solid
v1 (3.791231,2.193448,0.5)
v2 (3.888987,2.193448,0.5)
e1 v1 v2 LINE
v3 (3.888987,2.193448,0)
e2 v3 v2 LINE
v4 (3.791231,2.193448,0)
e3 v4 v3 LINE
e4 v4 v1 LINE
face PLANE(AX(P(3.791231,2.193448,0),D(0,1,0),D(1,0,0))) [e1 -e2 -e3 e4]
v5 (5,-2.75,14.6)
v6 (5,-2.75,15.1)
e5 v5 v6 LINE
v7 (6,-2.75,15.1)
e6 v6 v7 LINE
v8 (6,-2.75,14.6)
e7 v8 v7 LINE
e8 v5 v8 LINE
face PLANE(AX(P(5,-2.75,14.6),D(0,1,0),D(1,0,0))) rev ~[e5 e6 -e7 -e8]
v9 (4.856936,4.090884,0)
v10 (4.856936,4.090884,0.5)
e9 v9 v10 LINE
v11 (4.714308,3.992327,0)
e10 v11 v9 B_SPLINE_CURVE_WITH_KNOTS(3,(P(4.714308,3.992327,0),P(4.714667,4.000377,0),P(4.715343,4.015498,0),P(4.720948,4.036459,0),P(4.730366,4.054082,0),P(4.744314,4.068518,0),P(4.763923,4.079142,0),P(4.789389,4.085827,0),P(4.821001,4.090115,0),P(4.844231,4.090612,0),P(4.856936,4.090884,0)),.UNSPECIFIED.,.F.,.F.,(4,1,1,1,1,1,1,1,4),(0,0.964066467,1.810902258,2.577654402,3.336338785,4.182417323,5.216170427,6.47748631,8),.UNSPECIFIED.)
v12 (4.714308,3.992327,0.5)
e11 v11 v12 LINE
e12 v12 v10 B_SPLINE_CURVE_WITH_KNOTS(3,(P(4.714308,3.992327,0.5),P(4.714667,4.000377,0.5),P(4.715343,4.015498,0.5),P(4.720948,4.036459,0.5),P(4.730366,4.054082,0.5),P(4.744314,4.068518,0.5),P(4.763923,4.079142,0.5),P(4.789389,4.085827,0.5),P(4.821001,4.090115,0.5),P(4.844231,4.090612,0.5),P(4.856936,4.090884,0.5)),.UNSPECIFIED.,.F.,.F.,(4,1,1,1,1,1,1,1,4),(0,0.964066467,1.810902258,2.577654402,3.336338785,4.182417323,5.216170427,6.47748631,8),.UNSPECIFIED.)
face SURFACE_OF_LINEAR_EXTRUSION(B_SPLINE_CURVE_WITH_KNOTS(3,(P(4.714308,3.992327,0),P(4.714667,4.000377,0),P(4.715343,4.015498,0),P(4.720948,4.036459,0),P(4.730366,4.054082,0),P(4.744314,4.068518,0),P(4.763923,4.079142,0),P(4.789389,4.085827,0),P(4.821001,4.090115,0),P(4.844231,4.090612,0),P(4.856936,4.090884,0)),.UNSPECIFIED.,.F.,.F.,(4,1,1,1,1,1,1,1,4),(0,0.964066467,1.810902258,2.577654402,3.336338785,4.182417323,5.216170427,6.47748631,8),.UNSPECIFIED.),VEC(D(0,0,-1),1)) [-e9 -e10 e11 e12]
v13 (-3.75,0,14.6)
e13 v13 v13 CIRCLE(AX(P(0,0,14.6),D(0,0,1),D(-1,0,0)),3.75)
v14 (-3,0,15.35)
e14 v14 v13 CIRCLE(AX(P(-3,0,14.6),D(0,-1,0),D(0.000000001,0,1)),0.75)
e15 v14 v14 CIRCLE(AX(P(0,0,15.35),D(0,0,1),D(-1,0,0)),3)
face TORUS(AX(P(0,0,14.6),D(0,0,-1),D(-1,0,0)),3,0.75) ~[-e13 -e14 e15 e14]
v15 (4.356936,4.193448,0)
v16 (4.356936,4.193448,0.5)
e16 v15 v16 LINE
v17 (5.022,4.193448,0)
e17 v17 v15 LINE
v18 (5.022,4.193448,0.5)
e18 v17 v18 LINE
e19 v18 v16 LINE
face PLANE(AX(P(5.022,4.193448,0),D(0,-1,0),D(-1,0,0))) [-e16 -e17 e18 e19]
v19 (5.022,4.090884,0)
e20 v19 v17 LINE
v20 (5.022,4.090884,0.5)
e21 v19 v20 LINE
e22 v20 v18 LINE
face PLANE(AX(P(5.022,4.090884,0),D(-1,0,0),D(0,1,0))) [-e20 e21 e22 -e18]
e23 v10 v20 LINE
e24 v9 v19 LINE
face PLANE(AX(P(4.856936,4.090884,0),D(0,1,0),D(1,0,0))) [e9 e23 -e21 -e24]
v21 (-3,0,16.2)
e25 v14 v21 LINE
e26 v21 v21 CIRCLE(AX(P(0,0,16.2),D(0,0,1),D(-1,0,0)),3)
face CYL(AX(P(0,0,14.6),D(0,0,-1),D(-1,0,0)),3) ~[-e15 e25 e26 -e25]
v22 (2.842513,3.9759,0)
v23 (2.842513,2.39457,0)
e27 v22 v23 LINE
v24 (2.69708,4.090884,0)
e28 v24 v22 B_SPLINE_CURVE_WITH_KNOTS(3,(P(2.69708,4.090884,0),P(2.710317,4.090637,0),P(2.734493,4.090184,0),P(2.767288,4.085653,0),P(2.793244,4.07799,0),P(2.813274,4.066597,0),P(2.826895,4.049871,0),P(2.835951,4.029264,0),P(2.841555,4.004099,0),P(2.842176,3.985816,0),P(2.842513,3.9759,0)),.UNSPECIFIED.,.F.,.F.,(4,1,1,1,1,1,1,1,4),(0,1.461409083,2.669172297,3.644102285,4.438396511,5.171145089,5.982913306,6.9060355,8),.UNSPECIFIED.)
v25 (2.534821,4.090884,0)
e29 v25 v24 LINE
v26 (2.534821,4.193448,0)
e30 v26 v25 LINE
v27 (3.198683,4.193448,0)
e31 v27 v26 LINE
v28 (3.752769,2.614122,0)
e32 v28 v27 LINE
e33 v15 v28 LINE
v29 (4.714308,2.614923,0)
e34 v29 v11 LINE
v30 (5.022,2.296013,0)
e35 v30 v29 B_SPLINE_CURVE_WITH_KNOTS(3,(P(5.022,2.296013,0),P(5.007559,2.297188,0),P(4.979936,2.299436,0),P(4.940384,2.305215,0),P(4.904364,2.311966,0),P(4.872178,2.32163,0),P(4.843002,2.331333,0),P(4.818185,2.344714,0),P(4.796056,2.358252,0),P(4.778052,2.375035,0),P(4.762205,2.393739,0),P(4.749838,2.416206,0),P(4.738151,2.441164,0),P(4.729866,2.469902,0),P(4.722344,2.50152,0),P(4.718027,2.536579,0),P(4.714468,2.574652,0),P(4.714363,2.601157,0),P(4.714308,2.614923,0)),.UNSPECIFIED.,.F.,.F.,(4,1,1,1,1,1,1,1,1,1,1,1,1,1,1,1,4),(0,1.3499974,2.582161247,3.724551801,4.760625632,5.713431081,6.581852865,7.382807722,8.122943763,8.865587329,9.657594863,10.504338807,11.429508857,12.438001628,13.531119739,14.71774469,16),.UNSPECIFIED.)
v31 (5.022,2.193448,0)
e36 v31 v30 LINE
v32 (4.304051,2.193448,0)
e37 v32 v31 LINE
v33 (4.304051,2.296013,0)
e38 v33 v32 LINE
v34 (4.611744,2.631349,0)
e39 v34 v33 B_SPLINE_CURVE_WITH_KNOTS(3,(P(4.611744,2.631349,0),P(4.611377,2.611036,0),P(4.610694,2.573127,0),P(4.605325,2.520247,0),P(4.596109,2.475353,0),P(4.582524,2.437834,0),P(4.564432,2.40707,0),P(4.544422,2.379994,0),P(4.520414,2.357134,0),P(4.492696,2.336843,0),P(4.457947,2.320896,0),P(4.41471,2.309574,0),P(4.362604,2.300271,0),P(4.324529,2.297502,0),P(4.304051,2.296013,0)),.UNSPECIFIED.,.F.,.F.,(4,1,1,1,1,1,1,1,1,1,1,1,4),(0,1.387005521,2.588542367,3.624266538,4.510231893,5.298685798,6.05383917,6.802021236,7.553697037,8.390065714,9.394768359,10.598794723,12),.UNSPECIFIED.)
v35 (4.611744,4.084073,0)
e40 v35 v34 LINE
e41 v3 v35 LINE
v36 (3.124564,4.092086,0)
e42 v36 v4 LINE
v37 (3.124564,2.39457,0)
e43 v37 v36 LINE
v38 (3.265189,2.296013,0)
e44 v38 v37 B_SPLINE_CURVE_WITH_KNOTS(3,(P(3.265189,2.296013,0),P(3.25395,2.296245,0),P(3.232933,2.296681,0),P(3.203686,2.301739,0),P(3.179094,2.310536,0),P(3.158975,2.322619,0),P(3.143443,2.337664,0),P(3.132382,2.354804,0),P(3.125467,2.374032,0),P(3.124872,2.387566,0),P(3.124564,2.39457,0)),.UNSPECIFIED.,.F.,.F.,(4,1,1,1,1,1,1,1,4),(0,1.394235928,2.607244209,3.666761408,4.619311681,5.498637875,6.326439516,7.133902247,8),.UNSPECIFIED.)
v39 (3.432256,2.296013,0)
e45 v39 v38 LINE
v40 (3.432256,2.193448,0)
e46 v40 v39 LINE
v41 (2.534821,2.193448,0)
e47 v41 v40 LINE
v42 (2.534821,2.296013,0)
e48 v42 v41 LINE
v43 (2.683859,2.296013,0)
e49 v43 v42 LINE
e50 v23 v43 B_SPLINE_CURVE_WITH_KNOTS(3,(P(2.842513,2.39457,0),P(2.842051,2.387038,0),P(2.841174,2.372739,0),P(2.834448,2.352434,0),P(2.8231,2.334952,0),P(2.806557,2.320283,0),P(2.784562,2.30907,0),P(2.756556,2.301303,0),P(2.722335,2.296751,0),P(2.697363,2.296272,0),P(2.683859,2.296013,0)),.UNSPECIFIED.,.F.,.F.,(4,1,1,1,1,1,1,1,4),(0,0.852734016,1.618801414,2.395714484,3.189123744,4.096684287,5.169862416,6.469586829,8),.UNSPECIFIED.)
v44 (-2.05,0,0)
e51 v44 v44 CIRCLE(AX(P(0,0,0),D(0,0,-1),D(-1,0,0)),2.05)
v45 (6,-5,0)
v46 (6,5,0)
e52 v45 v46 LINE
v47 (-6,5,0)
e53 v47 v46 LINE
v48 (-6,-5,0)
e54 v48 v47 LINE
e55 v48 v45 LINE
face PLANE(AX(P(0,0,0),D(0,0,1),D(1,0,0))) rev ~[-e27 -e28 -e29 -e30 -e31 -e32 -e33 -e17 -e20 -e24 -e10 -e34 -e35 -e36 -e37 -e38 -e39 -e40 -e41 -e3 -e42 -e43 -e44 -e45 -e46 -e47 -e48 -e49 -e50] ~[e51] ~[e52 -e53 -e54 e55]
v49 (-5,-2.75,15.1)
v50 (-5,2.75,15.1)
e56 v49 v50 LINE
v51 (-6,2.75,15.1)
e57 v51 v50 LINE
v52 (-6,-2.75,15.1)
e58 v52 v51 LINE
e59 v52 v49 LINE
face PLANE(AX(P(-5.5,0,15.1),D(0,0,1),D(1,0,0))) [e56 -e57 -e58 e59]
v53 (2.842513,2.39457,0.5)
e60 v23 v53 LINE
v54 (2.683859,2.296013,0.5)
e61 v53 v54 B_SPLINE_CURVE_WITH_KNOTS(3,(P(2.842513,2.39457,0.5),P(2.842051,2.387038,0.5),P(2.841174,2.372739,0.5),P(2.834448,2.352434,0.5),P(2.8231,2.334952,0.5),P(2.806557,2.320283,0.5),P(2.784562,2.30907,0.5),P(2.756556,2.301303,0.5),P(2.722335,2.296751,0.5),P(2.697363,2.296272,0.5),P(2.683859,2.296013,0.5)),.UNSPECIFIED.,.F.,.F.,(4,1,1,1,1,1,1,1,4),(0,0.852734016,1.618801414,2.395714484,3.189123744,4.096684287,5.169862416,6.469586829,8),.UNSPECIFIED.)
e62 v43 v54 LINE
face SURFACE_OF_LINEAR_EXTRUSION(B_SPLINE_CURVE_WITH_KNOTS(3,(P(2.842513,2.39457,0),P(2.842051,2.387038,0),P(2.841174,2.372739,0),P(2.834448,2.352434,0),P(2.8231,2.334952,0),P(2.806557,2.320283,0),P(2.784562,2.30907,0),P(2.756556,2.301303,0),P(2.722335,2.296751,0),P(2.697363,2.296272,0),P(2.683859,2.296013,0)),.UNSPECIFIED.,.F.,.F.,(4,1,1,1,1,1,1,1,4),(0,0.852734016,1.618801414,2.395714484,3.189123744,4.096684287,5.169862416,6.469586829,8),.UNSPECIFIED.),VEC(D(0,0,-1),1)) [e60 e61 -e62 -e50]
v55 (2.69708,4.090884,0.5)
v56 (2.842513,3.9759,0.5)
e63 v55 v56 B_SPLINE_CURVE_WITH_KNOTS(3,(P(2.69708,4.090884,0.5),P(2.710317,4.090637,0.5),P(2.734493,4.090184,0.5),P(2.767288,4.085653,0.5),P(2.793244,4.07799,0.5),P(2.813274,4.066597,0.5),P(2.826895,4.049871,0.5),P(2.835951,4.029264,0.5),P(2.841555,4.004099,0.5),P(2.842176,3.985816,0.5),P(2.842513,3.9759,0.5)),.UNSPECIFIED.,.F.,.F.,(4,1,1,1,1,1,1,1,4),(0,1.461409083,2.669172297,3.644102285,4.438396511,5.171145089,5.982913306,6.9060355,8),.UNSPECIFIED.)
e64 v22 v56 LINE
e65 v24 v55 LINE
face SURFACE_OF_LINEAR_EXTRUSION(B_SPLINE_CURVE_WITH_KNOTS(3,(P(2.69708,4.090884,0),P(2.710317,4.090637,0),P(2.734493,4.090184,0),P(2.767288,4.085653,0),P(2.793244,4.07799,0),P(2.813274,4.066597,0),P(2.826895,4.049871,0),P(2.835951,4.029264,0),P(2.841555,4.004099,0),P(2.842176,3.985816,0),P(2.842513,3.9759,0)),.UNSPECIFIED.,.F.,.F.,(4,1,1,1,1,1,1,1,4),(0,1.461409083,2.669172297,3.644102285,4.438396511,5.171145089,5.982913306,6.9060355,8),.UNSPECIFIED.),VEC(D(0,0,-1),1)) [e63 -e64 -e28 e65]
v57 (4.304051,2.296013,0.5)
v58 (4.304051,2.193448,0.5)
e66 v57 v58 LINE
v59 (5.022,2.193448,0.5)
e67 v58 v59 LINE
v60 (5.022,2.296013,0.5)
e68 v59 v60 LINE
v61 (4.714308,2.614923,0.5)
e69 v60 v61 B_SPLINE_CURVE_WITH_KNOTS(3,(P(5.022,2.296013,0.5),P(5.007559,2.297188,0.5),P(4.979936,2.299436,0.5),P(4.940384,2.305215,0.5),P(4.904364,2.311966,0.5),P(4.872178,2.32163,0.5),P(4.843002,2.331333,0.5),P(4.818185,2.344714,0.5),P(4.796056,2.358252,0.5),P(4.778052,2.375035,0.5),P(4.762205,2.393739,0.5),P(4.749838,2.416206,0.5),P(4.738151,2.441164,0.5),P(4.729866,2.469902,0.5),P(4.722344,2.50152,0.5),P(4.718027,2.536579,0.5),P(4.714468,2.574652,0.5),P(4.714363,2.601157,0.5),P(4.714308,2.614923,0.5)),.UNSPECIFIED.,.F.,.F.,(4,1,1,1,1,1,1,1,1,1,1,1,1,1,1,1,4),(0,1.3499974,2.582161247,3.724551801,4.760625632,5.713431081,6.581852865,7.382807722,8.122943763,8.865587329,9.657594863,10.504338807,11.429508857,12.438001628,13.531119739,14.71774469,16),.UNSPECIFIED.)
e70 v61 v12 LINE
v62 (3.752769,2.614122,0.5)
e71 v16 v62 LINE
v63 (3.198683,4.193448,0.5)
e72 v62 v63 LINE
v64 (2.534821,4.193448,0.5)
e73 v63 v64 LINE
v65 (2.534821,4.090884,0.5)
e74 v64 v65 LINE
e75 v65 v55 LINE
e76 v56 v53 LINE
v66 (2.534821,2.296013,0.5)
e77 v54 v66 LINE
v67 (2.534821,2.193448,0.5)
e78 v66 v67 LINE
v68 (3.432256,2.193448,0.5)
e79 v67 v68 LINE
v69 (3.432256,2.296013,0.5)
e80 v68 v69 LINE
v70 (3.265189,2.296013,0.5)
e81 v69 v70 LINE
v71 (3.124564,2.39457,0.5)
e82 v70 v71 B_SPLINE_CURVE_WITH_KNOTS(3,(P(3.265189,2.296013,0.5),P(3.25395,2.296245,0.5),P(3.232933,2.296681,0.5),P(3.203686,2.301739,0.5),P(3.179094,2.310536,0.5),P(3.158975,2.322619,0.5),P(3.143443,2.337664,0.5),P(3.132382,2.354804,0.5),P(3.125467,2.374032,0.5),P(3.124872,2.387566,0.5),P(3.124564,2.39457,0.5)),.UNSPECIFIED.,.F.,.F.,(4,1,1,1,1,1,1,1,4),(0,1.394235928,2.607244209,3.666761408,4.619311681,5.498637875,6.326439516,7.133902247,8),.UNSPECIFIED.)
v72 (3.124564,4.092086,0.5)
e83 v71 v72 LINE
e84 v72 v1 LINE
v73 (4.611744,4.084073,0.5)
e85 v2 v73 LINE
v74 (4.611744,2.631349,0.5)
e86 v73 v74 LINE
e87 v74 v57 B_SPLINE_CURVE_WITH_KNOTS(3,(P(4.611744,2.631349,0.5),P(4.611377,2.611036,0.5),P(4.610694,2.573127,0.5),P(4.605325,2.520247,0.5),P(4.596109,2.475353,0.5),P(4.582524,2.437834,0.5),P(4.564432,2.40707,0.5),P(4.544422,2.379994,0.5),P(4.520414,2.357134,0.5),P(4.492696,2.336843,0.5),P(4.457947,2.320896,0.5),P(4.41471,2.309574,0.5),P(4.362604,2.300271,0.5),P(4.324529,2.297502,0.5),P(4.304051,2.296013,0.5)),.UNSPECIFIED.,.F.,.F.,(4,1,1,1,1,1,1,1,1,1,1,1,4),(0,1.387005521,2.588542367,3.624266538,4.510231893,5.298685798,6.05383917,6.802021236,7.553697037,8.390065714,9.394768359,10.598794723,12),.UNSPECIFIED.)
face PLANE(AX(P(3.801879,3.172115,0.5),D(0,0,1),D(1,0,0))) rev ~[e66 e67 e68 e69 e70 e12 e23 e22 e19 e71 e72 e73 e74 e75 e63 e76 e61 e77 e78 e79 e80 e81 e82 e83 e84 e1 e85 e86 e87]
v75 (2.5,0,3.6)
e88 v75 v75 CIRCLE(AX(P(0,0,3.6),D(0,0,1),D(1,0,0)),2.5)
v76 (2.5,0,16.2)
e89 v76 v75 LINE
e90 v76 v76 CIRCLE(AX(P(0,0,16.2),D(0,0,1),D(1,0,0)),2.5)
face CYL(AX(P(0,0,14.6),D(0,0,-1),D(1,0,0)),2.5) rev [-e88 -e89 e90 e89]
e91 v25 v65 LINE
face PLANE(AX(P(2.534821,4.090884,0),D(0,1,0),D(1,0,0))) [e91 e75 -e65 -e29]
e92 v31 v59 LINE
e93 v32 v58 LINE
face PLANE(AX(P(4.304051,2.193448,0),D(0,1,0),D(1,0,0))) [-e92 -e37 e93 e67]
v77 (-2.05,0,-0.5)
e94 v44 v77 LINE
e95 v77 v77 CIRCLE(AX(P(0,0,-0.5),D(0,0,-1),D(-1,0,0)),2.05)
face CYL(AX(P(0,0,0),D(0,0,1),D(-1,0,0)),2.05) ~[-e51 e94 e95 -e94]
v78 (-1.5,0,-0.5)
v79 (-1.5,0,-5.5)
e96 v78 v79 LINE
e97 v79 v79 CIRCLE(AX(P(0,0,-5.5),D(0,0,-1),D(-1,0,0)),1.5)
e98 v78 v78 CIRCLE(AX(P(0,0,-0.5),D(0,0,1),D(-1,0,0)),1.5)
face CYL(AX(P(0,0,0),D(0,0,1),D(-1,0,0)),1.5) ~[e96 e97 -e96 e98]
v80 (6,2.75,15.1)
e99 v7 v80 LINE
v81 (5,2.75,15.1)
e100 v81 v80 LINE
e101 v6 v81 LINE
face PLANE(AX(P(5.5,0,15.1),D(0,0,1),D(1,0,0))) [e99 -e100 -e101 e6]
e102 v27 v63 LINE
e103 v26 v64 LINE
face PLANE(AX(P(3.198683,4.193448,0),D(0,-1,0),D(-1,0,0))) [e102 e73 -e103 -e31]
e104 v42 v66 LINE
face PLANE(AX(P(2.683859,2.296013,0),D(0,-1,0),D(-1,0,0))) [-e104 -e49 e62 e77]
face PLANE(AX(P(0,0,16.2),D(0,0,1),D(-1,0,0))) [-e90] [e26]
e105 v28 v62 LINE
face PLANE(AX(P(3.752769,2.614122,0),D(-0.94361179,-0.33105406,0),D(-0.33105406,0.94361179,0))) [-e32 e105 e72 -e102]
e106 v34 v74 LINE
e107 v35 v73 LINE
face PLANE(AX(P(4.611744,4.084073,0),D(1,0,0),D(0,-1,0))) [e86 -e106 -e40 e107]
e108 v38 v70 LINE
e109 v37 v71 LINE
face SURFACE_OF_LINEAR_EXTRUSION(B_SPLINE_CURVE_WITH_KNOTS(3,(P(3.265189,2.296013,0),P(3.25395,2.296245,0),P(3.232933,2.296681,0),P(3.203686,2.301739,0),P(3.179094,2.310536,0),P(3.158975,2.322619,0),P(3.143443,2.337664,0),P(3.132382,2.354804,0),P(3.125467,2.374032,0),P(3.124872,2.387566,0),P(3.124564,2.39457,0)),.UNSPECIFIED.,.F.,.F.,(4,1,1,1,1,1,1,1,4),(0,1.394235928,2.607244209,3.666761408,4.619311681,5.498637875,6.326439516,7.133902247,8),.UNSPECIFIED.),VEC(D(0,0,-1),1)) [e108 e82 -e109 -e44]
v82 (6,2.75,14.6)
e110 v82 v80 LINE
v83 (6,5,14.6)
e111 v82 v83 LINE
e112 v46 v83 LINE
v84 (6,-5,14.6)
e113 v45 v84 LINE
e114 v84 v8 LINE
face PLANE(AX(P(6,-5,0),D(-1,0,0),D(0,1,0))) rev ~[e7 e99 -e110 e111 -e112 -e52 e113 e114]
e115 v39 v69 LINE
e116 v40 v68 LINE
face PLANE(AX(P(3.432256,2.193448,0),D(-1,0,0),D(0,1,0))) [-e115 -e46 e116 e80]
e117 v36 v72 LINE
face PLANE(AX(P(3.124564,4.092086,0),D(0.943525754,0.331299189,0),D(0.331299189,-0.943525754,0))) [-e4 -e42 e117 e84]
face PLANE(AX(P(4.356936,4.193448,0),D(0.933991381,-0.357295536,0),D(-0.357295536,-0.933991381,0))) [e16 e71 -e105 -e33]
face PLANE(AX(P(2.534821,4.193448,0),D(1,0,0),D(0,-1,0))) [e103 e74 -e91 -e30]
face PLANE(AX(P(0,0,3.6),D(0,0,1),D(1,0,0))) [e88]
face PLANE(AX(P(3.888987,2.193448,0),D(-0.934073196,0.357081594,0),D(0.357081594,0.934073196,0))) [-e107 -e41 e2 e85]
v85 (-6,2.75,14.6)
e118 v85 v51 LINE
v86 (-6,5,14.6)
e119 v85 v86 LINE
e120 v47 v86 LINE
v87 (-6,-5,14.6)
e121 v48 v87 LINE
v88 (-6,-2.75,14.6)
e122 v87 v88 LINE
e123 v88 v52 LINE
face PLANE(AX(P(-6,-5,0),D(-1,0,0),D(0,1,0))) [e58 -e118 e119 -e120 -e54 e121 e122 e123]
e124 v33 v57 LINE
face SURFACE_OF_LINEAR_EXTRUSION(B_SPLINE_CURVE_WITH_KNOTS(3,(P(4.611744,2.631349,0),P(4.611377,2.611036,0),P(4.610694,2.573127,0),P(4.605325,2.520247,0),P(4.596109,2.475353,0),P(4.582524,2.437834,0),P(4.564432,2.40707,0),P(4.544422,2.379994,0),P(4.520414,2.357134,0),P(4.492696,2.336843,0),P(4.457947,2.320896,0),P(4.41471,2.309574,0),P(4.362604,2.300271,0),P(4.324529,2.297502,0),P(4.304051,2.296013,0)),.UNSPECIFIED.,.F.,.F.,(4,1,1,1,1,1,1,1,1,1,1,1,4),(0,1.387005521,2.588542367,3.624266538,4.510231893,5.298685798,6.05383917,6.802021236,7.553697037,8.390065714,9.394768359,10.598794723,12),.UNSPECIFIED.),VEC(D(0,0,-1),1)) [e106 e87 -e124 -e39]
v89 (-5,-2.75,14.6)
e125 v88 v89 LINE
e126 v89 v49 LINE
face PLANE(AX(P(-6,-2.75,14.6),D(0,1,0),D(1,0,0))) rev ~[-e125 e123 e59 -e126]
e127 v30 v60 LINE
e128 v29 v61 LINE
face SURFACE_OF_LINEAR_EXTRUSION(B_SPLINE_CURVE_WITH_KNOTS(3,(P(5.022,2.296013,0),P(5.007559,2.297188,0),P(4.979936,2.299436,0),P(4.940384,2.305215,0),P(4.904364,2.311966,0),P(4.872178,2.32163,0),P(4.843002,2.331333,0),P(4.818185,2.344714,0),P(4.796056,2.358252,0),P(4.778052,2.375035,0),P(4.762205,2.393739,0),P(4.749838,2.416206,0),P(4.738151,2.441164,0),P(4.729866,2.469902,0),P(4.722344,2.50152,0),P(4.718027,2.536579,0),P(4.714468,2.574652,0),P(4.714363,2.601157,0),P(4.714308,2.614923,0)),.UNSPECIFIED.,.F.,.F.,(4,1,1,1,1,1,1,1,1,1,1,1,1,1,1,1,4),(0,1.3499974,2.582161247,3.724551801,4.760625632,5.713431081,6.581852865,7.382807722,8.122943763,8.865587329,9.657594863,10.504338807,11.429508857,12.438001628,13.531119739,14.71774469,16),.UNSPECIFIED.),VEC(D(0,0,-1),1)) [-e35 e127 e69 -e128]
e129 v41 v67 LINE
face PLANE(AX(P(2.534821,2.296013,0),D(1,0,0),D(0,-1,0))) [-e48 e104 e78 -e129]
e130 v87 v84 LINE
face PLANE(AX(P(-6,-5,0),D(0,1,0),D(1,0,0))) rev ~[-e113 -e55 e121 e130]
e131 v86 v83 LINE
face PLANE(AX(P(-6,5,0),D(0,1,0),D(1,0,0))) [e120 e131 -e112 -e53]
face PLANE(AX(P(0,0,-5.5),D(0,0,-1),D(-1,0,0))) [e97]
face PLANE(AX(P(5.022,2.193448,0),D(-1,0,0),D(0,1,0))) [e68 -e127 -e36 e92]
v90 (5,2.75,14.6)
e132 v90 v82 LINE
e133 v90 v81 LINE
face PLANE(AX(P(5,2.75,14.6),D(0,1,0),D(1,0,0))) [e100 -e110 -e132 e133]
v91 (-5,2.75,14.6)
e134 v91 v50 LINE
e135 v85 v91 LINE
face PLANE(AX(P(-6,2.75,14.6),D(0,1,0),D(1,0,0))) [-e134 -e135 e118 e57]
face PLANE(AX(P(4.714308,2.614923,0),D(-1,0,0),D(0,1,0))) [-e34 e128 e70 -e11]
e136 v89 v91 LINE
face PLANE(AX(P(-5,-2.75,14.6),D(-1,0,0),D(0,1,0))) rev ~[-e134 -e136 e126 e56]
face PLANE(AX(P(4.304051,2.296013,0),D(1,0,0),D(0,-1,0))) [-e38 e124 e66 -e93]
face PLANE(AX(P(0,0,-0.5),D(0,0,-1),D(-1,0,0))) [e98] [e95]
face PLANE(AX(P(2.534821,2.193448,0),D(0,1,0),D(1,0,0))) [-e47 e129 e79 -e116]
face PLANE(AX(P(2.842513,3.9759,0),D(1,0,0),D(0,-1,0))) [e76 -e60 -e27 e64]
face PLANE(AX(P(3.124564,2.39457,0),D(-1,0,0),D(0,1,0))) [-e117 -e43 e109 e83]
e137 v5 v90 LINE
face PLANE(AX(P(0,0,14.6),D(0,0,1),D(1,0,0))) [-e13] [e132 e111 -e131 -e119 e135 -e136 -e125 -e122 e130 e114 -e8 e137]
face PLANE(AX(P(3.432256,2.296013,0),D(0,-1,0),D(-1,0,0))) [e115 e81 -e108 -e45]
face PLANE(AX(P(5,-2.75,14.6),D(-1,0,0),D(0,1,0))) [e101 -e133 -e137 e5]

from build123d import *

# Parameters (mm, degrees)
SKETCH1_W           = 12
SKETCH1_H           = 10
BOSS_EXTRUDE1_DEPTH = 14.6
SKETCH2_W           = 1
SKETCH2_H           = 5.5
BOSS_EXTRUDE2_DEPTH = 0.5
SKETCH4_R           = 1.5
BOSS_EXTRUDE3_DEPTH = 5.5
SKETCH5_R           = 2.05
BOSS_EXTRUDE4_DEPTH = 0.5
CUT_EXTRUDE1_DEPTH  = 0.5
SKETCH7_R           = 2.5
CUT_EXTRUDE2_DEPTH  = 11
SKETCH9_R           = 3
SKETCH9_R_2         = 2.5
BOSS_EXTRUDE5_DEPTH = 1.6


with BuildPart() as part:
    # Sketch1 → Boss-Extrude1 (new body)
    with BuildSketch(Plane.XY):
        Rectangle(SKETCH1_W, SKETCH1_H)
    extrude(amount=BOSS_EXTRUDE1_DEPTH)

    # Sketch2 → Boss-Extrude2 (add)
    with BuildSketch(Plane.XY.offset(14.6)):
        with Locations((-5.5, 0)):
            Rectangle(SKETCH2_W, SKETCH2_H)
        with Locations((5.5, 0)):
            Rectangle(SKETCH2_W, SKETCH2_H)
    extrude(amount=BOSS_EXTRUDE2_DEPTH)

    # Sketch4 → Boss-Extrude3 (add)
    with BuildSketch(Plane(origin=(0, 0, 0), x_dir=(-1, 0, 0), z_dir=(0, 0, -1))):
        Circle(SKETCH4_R)
    extrude(amount=BOSS_EXTRUDE3_DEPTH)

    # Sketch5 → Boss-Extrude4 (add)
    with BuildSketch(Plane(origin=(0, 0, 0), x_dir=(-1, 0, 0), z_dir=(0, 0, -1))):
        Circle(SKETCH5_R)
    extrude(amount=BOSS_EXTRUDE4_DEPTH)

    # Sketch6 → Cut-Extrude1 (cut)
    with BuildSketch(Plane(origin=(0, 0, 0), x_dir=(-1, 0, 0), z_dir=(0, 0, -1))):
        with BuildLine():
            Line((-5.022000054, 4.19344844), (-4.356935952, 4.19344844))
            Line((-4.356935952, 4.19344844), (-3.752769285, 2.614121517))
            Line((-3.752769285, 2.614121517), (-3.198682747, 4.19344844))
            Line((-3.198682747, 4.19344844), (-2.534820567, 4.19344844))
            Line((-2.534820567, 4.19344844), (-2.534820567, 4.090884337))
            Line((-2.534820567, 4.090884337), (-2.697080183, 4.090884337))
            add(Edge.make_bspline(
                [(-2.697080183, 4.090884337), (-2.710316809, 4.090636556), (-2.734492679, 4.090183998), (-2.76728752, 4.085652982), (-2.793244282, 4.077989549), (-2.813274161, 4.066597021), (-2.826894921, 4.049870677), (-2.8359508, 4.029264042), (-2.841554988, 4.004099098), (-2.842176045, 3.985816116), (-2.842512875, 3.975900363)],
                knots=[0, 0, 0, 0, 1.461409083, 2.669172297, 3.644102285, 4.438396511, 5.171145089, 5.982913306, 6.9060355, 8, 8, 8, 8], degree=3))
            Line((-2.842512875, 3.975900363), (-2.842512875, 2.394570235))
            add(Edge.make_bspline(
                [(-2.842512875, 2.394570235), (-2.842050819, 2.387038144), (-2.841173668, 2.372739479), (-2.834447891, 2.352433769), (-2.823099881, 2.334952111), (-2.806557353, 2.320282642), (-2.784561689, 2.309069969), (-2.756555778, 2.301303429), (-2.722335078, 2.296750977), (-2.697362885, 2.296271709), (-2.683859029, 2.296012542)],
                knots=[0, 0, 0, 0, 0.852734016, 1.618801414, 2.395714484, 3.189123744, 4.096684287, 5.169862416, 6.469586829, 8, 8, 8, 8], degree=3))
            Line((-2.683859029, 2.296012542), (-2.534820567, 2.296012542))
            Line((-2.534820567, 2.296012542), (-2.534820567, 2.19344844))
            Line((-2.534820567, 2.19344844), (-3.432256465, 2.19344844))
            Line((-3.432256465, 2.19344844), (-3.432256465, 2.296012542))
            Line((-3.432256465, 2.296012542), (-3.265189157, 2.296012542))
            add(Edge.make_bspline(
                [(-3.265189157, 2.296012542), (-3.253950106, 2.296245463), (-3.232932895, 2.296681029), (-3.203686174, 2.301738527), (-3.179094381, 2.310536297), (-3.158974617, 2.322618715), (-3.143443119, 2.337663858), (-3.132382481, 2.354803918), (-3.125466503, 2.374031717), (-3.124871883, 2.387565999), (-3.124564157, 2.394570235)],
                knots=[0, 0, 0, 0, 1.394235928, 2.607244209, 3.666761408, 4.619311681, 5.498637875, 6.326439516, 7.133902247, 8, 8, 8, 8], degree=3))
            Line((-3.124564157, 2.394570235), (-3.124564157, 4.09208626))
            Line((-3.124564157, 4.09208626), (-3.791230824, 2.19344844))
            Line((-3.791230824, 2.19344844), (-3.888987234, 2.19344844))
            Line((-3.888987234, 2.19344844), (-4.611743644, 4.08407344))
            Line((-4.611743644, 4.08407344), (-4.611743644, 2.631349081))
            add(Edge.make_bspline(
                [(-4.611743644, 2.631349081), (-4.611377469, 2.611036444), (-4.610694083, 2.573127352), (-4.605325483, 2.520247499), (-4.596108802, 2.475353065), (-4.582524113, 2.437834201), (-4.564432022, 2.407070341), (-4.544422056, 2.379994045), (-4.520414227, 2.357133819), (-4.492696269, 2.33684315), (-4.45794728, 2.320895889), (-4.41471004, 2.309573563), (-4.362603697, 2.300270875), (-4.324529352, 2.297501845), (-4.304051336, 2.296012542)],
                knots=[0, 0, 0, 0, 1.387005521, 2.588542367, 3.624266538, 4.510231893, 5.298685798, 6.05383917, 6.802021236, 7.553697037, 8.390065714, 9.394768359, 10.598794723, 12, 12, 12, 12], degree=3))
            Line((-4.304051336, 2.296012542), (-4.304051336, 2.19344844))
            Line((-4.304051336, 2.19344844), (-5.022000054, 2.19344844))
            Line((-5.022000054, 2.19344844), (-5.022000054, 2.296012542))
            add(Edge.make_bspline(
                [(-5.022000054, 2.296012542), (-5.007558595, 2.297187721), (-4.97993619, 2.299435504), (-4.940384187, 2.30521534), (-4.904363952, 2.311965762), (-4.872178394, 2.321630139), (-4.843002284, 2.331333401), (-4.818185115, 2.344714342), (-4.796055659, 2.35825151), (-4.778051671, 2.375035374), (-4.762204772, 2.393739353), (-4.7498382, 2.416205607), (-4.738151387, 2.44116405), (-4.729866044, 2.469901954), (-4.722344359, 2.501519512), (-4.718026847, 2.536578835), (-4.714468033, 2.57465227), (-4.714362538, 2.601157074), (-4.714307747, 2.614922799)],
                knots=[0, 0, 0, 0, 1.3499974, 2.582161247, 3.724551801, 4.760625632, 5.713431081, 6.581852865, 7.382807722, 8.122943763, 8.865587329, 9.657594863, 10.504338807, 11.429508857, 12.438001628, 13.531119739, 14.71774469, 16, 16, 16, 16], degree=3))
            Line((-4.714307747, 2.614922799), (-4.714307747, 3.992326645))
            add(Edge.make_bspline(
                [(-4.714307747, 3.992326645), (-4.714667267, 4.000376864), (-4.71534259, 4.015498393), (-4.720947722, 4.036459034), (-4.730366107, 4.054081799), (-4.74431361, 4.06851761), (-4.763922895, 4.079141723), (-4.789389281, 4.085827056), (-4.821001443, 4.090114928), (-4.844231256, 4.090612312), (-4.856935952, 4.090884337)],
                knots=[0, 0, 0, 0, 0.964066467, 1.810902258, 2.577654402, 3.336338785, 4.182417323, 5.216170427, 6.47748631, 8, 8, 8, 8], degree=3))
            Line((-4.856935952, 4.090884337), (-5.022000054, 4.090884337))
            Line((-5.022000054, 4.090884337), (-5.022000054, 4.19344844))
        make_face()
    extrude(amount=-CUT_EXTRUDE1_DEPTH, mode=Mode.SUBTRACT)

    # Sketch7 → Cut-Extrude2 (cut)
    with BuildSketch(Plane.XY.offset(14.6)):
        Circle(SKETCH7_R)
    extrude(amount=-CUT_EXTRUDE2_DEPTH, mode=Mode.SUBTRACT)

    # Sketch9 → Boss-Extrude5 (add)
    with BuildSketch(Plane.XY.offset(14.6)):
        with Locations(Location((0, 0, 0), (0, 0, 180))):
            Circle(SKETCH9_R)
        Circle(SKETCH9_R_2, mode=Mode.SUBTRACT)
    extrude(amount=BOSS_EXTRUDE5_DEPTH)

    # Sketch10 → Revolve1 (revolve)
    with BuildSketch(Plane(origin=(0, 0, 0), x_dir=(1, 0, 0), z_dir=(0, 1, 0)), mode=Mode.PRIVATE) as revolve1_sk:
        with BuildLine():
            Line((3.75, -14.6), (3, -14.6))
            Line((3, -14.6), (3, -15.35))
            ThreePointArc((3, -15.35), (3.530330086, -15.130330086), (3.75, -14.6))
        make_face()
    revolve(revolve1_sk.sketch.rotate(Axis((0, 0, 3.6), (0, 0, 1)), 180), axis=Axis((0, 0, 3.6), (0, 0, 1)))


solid = part.part
